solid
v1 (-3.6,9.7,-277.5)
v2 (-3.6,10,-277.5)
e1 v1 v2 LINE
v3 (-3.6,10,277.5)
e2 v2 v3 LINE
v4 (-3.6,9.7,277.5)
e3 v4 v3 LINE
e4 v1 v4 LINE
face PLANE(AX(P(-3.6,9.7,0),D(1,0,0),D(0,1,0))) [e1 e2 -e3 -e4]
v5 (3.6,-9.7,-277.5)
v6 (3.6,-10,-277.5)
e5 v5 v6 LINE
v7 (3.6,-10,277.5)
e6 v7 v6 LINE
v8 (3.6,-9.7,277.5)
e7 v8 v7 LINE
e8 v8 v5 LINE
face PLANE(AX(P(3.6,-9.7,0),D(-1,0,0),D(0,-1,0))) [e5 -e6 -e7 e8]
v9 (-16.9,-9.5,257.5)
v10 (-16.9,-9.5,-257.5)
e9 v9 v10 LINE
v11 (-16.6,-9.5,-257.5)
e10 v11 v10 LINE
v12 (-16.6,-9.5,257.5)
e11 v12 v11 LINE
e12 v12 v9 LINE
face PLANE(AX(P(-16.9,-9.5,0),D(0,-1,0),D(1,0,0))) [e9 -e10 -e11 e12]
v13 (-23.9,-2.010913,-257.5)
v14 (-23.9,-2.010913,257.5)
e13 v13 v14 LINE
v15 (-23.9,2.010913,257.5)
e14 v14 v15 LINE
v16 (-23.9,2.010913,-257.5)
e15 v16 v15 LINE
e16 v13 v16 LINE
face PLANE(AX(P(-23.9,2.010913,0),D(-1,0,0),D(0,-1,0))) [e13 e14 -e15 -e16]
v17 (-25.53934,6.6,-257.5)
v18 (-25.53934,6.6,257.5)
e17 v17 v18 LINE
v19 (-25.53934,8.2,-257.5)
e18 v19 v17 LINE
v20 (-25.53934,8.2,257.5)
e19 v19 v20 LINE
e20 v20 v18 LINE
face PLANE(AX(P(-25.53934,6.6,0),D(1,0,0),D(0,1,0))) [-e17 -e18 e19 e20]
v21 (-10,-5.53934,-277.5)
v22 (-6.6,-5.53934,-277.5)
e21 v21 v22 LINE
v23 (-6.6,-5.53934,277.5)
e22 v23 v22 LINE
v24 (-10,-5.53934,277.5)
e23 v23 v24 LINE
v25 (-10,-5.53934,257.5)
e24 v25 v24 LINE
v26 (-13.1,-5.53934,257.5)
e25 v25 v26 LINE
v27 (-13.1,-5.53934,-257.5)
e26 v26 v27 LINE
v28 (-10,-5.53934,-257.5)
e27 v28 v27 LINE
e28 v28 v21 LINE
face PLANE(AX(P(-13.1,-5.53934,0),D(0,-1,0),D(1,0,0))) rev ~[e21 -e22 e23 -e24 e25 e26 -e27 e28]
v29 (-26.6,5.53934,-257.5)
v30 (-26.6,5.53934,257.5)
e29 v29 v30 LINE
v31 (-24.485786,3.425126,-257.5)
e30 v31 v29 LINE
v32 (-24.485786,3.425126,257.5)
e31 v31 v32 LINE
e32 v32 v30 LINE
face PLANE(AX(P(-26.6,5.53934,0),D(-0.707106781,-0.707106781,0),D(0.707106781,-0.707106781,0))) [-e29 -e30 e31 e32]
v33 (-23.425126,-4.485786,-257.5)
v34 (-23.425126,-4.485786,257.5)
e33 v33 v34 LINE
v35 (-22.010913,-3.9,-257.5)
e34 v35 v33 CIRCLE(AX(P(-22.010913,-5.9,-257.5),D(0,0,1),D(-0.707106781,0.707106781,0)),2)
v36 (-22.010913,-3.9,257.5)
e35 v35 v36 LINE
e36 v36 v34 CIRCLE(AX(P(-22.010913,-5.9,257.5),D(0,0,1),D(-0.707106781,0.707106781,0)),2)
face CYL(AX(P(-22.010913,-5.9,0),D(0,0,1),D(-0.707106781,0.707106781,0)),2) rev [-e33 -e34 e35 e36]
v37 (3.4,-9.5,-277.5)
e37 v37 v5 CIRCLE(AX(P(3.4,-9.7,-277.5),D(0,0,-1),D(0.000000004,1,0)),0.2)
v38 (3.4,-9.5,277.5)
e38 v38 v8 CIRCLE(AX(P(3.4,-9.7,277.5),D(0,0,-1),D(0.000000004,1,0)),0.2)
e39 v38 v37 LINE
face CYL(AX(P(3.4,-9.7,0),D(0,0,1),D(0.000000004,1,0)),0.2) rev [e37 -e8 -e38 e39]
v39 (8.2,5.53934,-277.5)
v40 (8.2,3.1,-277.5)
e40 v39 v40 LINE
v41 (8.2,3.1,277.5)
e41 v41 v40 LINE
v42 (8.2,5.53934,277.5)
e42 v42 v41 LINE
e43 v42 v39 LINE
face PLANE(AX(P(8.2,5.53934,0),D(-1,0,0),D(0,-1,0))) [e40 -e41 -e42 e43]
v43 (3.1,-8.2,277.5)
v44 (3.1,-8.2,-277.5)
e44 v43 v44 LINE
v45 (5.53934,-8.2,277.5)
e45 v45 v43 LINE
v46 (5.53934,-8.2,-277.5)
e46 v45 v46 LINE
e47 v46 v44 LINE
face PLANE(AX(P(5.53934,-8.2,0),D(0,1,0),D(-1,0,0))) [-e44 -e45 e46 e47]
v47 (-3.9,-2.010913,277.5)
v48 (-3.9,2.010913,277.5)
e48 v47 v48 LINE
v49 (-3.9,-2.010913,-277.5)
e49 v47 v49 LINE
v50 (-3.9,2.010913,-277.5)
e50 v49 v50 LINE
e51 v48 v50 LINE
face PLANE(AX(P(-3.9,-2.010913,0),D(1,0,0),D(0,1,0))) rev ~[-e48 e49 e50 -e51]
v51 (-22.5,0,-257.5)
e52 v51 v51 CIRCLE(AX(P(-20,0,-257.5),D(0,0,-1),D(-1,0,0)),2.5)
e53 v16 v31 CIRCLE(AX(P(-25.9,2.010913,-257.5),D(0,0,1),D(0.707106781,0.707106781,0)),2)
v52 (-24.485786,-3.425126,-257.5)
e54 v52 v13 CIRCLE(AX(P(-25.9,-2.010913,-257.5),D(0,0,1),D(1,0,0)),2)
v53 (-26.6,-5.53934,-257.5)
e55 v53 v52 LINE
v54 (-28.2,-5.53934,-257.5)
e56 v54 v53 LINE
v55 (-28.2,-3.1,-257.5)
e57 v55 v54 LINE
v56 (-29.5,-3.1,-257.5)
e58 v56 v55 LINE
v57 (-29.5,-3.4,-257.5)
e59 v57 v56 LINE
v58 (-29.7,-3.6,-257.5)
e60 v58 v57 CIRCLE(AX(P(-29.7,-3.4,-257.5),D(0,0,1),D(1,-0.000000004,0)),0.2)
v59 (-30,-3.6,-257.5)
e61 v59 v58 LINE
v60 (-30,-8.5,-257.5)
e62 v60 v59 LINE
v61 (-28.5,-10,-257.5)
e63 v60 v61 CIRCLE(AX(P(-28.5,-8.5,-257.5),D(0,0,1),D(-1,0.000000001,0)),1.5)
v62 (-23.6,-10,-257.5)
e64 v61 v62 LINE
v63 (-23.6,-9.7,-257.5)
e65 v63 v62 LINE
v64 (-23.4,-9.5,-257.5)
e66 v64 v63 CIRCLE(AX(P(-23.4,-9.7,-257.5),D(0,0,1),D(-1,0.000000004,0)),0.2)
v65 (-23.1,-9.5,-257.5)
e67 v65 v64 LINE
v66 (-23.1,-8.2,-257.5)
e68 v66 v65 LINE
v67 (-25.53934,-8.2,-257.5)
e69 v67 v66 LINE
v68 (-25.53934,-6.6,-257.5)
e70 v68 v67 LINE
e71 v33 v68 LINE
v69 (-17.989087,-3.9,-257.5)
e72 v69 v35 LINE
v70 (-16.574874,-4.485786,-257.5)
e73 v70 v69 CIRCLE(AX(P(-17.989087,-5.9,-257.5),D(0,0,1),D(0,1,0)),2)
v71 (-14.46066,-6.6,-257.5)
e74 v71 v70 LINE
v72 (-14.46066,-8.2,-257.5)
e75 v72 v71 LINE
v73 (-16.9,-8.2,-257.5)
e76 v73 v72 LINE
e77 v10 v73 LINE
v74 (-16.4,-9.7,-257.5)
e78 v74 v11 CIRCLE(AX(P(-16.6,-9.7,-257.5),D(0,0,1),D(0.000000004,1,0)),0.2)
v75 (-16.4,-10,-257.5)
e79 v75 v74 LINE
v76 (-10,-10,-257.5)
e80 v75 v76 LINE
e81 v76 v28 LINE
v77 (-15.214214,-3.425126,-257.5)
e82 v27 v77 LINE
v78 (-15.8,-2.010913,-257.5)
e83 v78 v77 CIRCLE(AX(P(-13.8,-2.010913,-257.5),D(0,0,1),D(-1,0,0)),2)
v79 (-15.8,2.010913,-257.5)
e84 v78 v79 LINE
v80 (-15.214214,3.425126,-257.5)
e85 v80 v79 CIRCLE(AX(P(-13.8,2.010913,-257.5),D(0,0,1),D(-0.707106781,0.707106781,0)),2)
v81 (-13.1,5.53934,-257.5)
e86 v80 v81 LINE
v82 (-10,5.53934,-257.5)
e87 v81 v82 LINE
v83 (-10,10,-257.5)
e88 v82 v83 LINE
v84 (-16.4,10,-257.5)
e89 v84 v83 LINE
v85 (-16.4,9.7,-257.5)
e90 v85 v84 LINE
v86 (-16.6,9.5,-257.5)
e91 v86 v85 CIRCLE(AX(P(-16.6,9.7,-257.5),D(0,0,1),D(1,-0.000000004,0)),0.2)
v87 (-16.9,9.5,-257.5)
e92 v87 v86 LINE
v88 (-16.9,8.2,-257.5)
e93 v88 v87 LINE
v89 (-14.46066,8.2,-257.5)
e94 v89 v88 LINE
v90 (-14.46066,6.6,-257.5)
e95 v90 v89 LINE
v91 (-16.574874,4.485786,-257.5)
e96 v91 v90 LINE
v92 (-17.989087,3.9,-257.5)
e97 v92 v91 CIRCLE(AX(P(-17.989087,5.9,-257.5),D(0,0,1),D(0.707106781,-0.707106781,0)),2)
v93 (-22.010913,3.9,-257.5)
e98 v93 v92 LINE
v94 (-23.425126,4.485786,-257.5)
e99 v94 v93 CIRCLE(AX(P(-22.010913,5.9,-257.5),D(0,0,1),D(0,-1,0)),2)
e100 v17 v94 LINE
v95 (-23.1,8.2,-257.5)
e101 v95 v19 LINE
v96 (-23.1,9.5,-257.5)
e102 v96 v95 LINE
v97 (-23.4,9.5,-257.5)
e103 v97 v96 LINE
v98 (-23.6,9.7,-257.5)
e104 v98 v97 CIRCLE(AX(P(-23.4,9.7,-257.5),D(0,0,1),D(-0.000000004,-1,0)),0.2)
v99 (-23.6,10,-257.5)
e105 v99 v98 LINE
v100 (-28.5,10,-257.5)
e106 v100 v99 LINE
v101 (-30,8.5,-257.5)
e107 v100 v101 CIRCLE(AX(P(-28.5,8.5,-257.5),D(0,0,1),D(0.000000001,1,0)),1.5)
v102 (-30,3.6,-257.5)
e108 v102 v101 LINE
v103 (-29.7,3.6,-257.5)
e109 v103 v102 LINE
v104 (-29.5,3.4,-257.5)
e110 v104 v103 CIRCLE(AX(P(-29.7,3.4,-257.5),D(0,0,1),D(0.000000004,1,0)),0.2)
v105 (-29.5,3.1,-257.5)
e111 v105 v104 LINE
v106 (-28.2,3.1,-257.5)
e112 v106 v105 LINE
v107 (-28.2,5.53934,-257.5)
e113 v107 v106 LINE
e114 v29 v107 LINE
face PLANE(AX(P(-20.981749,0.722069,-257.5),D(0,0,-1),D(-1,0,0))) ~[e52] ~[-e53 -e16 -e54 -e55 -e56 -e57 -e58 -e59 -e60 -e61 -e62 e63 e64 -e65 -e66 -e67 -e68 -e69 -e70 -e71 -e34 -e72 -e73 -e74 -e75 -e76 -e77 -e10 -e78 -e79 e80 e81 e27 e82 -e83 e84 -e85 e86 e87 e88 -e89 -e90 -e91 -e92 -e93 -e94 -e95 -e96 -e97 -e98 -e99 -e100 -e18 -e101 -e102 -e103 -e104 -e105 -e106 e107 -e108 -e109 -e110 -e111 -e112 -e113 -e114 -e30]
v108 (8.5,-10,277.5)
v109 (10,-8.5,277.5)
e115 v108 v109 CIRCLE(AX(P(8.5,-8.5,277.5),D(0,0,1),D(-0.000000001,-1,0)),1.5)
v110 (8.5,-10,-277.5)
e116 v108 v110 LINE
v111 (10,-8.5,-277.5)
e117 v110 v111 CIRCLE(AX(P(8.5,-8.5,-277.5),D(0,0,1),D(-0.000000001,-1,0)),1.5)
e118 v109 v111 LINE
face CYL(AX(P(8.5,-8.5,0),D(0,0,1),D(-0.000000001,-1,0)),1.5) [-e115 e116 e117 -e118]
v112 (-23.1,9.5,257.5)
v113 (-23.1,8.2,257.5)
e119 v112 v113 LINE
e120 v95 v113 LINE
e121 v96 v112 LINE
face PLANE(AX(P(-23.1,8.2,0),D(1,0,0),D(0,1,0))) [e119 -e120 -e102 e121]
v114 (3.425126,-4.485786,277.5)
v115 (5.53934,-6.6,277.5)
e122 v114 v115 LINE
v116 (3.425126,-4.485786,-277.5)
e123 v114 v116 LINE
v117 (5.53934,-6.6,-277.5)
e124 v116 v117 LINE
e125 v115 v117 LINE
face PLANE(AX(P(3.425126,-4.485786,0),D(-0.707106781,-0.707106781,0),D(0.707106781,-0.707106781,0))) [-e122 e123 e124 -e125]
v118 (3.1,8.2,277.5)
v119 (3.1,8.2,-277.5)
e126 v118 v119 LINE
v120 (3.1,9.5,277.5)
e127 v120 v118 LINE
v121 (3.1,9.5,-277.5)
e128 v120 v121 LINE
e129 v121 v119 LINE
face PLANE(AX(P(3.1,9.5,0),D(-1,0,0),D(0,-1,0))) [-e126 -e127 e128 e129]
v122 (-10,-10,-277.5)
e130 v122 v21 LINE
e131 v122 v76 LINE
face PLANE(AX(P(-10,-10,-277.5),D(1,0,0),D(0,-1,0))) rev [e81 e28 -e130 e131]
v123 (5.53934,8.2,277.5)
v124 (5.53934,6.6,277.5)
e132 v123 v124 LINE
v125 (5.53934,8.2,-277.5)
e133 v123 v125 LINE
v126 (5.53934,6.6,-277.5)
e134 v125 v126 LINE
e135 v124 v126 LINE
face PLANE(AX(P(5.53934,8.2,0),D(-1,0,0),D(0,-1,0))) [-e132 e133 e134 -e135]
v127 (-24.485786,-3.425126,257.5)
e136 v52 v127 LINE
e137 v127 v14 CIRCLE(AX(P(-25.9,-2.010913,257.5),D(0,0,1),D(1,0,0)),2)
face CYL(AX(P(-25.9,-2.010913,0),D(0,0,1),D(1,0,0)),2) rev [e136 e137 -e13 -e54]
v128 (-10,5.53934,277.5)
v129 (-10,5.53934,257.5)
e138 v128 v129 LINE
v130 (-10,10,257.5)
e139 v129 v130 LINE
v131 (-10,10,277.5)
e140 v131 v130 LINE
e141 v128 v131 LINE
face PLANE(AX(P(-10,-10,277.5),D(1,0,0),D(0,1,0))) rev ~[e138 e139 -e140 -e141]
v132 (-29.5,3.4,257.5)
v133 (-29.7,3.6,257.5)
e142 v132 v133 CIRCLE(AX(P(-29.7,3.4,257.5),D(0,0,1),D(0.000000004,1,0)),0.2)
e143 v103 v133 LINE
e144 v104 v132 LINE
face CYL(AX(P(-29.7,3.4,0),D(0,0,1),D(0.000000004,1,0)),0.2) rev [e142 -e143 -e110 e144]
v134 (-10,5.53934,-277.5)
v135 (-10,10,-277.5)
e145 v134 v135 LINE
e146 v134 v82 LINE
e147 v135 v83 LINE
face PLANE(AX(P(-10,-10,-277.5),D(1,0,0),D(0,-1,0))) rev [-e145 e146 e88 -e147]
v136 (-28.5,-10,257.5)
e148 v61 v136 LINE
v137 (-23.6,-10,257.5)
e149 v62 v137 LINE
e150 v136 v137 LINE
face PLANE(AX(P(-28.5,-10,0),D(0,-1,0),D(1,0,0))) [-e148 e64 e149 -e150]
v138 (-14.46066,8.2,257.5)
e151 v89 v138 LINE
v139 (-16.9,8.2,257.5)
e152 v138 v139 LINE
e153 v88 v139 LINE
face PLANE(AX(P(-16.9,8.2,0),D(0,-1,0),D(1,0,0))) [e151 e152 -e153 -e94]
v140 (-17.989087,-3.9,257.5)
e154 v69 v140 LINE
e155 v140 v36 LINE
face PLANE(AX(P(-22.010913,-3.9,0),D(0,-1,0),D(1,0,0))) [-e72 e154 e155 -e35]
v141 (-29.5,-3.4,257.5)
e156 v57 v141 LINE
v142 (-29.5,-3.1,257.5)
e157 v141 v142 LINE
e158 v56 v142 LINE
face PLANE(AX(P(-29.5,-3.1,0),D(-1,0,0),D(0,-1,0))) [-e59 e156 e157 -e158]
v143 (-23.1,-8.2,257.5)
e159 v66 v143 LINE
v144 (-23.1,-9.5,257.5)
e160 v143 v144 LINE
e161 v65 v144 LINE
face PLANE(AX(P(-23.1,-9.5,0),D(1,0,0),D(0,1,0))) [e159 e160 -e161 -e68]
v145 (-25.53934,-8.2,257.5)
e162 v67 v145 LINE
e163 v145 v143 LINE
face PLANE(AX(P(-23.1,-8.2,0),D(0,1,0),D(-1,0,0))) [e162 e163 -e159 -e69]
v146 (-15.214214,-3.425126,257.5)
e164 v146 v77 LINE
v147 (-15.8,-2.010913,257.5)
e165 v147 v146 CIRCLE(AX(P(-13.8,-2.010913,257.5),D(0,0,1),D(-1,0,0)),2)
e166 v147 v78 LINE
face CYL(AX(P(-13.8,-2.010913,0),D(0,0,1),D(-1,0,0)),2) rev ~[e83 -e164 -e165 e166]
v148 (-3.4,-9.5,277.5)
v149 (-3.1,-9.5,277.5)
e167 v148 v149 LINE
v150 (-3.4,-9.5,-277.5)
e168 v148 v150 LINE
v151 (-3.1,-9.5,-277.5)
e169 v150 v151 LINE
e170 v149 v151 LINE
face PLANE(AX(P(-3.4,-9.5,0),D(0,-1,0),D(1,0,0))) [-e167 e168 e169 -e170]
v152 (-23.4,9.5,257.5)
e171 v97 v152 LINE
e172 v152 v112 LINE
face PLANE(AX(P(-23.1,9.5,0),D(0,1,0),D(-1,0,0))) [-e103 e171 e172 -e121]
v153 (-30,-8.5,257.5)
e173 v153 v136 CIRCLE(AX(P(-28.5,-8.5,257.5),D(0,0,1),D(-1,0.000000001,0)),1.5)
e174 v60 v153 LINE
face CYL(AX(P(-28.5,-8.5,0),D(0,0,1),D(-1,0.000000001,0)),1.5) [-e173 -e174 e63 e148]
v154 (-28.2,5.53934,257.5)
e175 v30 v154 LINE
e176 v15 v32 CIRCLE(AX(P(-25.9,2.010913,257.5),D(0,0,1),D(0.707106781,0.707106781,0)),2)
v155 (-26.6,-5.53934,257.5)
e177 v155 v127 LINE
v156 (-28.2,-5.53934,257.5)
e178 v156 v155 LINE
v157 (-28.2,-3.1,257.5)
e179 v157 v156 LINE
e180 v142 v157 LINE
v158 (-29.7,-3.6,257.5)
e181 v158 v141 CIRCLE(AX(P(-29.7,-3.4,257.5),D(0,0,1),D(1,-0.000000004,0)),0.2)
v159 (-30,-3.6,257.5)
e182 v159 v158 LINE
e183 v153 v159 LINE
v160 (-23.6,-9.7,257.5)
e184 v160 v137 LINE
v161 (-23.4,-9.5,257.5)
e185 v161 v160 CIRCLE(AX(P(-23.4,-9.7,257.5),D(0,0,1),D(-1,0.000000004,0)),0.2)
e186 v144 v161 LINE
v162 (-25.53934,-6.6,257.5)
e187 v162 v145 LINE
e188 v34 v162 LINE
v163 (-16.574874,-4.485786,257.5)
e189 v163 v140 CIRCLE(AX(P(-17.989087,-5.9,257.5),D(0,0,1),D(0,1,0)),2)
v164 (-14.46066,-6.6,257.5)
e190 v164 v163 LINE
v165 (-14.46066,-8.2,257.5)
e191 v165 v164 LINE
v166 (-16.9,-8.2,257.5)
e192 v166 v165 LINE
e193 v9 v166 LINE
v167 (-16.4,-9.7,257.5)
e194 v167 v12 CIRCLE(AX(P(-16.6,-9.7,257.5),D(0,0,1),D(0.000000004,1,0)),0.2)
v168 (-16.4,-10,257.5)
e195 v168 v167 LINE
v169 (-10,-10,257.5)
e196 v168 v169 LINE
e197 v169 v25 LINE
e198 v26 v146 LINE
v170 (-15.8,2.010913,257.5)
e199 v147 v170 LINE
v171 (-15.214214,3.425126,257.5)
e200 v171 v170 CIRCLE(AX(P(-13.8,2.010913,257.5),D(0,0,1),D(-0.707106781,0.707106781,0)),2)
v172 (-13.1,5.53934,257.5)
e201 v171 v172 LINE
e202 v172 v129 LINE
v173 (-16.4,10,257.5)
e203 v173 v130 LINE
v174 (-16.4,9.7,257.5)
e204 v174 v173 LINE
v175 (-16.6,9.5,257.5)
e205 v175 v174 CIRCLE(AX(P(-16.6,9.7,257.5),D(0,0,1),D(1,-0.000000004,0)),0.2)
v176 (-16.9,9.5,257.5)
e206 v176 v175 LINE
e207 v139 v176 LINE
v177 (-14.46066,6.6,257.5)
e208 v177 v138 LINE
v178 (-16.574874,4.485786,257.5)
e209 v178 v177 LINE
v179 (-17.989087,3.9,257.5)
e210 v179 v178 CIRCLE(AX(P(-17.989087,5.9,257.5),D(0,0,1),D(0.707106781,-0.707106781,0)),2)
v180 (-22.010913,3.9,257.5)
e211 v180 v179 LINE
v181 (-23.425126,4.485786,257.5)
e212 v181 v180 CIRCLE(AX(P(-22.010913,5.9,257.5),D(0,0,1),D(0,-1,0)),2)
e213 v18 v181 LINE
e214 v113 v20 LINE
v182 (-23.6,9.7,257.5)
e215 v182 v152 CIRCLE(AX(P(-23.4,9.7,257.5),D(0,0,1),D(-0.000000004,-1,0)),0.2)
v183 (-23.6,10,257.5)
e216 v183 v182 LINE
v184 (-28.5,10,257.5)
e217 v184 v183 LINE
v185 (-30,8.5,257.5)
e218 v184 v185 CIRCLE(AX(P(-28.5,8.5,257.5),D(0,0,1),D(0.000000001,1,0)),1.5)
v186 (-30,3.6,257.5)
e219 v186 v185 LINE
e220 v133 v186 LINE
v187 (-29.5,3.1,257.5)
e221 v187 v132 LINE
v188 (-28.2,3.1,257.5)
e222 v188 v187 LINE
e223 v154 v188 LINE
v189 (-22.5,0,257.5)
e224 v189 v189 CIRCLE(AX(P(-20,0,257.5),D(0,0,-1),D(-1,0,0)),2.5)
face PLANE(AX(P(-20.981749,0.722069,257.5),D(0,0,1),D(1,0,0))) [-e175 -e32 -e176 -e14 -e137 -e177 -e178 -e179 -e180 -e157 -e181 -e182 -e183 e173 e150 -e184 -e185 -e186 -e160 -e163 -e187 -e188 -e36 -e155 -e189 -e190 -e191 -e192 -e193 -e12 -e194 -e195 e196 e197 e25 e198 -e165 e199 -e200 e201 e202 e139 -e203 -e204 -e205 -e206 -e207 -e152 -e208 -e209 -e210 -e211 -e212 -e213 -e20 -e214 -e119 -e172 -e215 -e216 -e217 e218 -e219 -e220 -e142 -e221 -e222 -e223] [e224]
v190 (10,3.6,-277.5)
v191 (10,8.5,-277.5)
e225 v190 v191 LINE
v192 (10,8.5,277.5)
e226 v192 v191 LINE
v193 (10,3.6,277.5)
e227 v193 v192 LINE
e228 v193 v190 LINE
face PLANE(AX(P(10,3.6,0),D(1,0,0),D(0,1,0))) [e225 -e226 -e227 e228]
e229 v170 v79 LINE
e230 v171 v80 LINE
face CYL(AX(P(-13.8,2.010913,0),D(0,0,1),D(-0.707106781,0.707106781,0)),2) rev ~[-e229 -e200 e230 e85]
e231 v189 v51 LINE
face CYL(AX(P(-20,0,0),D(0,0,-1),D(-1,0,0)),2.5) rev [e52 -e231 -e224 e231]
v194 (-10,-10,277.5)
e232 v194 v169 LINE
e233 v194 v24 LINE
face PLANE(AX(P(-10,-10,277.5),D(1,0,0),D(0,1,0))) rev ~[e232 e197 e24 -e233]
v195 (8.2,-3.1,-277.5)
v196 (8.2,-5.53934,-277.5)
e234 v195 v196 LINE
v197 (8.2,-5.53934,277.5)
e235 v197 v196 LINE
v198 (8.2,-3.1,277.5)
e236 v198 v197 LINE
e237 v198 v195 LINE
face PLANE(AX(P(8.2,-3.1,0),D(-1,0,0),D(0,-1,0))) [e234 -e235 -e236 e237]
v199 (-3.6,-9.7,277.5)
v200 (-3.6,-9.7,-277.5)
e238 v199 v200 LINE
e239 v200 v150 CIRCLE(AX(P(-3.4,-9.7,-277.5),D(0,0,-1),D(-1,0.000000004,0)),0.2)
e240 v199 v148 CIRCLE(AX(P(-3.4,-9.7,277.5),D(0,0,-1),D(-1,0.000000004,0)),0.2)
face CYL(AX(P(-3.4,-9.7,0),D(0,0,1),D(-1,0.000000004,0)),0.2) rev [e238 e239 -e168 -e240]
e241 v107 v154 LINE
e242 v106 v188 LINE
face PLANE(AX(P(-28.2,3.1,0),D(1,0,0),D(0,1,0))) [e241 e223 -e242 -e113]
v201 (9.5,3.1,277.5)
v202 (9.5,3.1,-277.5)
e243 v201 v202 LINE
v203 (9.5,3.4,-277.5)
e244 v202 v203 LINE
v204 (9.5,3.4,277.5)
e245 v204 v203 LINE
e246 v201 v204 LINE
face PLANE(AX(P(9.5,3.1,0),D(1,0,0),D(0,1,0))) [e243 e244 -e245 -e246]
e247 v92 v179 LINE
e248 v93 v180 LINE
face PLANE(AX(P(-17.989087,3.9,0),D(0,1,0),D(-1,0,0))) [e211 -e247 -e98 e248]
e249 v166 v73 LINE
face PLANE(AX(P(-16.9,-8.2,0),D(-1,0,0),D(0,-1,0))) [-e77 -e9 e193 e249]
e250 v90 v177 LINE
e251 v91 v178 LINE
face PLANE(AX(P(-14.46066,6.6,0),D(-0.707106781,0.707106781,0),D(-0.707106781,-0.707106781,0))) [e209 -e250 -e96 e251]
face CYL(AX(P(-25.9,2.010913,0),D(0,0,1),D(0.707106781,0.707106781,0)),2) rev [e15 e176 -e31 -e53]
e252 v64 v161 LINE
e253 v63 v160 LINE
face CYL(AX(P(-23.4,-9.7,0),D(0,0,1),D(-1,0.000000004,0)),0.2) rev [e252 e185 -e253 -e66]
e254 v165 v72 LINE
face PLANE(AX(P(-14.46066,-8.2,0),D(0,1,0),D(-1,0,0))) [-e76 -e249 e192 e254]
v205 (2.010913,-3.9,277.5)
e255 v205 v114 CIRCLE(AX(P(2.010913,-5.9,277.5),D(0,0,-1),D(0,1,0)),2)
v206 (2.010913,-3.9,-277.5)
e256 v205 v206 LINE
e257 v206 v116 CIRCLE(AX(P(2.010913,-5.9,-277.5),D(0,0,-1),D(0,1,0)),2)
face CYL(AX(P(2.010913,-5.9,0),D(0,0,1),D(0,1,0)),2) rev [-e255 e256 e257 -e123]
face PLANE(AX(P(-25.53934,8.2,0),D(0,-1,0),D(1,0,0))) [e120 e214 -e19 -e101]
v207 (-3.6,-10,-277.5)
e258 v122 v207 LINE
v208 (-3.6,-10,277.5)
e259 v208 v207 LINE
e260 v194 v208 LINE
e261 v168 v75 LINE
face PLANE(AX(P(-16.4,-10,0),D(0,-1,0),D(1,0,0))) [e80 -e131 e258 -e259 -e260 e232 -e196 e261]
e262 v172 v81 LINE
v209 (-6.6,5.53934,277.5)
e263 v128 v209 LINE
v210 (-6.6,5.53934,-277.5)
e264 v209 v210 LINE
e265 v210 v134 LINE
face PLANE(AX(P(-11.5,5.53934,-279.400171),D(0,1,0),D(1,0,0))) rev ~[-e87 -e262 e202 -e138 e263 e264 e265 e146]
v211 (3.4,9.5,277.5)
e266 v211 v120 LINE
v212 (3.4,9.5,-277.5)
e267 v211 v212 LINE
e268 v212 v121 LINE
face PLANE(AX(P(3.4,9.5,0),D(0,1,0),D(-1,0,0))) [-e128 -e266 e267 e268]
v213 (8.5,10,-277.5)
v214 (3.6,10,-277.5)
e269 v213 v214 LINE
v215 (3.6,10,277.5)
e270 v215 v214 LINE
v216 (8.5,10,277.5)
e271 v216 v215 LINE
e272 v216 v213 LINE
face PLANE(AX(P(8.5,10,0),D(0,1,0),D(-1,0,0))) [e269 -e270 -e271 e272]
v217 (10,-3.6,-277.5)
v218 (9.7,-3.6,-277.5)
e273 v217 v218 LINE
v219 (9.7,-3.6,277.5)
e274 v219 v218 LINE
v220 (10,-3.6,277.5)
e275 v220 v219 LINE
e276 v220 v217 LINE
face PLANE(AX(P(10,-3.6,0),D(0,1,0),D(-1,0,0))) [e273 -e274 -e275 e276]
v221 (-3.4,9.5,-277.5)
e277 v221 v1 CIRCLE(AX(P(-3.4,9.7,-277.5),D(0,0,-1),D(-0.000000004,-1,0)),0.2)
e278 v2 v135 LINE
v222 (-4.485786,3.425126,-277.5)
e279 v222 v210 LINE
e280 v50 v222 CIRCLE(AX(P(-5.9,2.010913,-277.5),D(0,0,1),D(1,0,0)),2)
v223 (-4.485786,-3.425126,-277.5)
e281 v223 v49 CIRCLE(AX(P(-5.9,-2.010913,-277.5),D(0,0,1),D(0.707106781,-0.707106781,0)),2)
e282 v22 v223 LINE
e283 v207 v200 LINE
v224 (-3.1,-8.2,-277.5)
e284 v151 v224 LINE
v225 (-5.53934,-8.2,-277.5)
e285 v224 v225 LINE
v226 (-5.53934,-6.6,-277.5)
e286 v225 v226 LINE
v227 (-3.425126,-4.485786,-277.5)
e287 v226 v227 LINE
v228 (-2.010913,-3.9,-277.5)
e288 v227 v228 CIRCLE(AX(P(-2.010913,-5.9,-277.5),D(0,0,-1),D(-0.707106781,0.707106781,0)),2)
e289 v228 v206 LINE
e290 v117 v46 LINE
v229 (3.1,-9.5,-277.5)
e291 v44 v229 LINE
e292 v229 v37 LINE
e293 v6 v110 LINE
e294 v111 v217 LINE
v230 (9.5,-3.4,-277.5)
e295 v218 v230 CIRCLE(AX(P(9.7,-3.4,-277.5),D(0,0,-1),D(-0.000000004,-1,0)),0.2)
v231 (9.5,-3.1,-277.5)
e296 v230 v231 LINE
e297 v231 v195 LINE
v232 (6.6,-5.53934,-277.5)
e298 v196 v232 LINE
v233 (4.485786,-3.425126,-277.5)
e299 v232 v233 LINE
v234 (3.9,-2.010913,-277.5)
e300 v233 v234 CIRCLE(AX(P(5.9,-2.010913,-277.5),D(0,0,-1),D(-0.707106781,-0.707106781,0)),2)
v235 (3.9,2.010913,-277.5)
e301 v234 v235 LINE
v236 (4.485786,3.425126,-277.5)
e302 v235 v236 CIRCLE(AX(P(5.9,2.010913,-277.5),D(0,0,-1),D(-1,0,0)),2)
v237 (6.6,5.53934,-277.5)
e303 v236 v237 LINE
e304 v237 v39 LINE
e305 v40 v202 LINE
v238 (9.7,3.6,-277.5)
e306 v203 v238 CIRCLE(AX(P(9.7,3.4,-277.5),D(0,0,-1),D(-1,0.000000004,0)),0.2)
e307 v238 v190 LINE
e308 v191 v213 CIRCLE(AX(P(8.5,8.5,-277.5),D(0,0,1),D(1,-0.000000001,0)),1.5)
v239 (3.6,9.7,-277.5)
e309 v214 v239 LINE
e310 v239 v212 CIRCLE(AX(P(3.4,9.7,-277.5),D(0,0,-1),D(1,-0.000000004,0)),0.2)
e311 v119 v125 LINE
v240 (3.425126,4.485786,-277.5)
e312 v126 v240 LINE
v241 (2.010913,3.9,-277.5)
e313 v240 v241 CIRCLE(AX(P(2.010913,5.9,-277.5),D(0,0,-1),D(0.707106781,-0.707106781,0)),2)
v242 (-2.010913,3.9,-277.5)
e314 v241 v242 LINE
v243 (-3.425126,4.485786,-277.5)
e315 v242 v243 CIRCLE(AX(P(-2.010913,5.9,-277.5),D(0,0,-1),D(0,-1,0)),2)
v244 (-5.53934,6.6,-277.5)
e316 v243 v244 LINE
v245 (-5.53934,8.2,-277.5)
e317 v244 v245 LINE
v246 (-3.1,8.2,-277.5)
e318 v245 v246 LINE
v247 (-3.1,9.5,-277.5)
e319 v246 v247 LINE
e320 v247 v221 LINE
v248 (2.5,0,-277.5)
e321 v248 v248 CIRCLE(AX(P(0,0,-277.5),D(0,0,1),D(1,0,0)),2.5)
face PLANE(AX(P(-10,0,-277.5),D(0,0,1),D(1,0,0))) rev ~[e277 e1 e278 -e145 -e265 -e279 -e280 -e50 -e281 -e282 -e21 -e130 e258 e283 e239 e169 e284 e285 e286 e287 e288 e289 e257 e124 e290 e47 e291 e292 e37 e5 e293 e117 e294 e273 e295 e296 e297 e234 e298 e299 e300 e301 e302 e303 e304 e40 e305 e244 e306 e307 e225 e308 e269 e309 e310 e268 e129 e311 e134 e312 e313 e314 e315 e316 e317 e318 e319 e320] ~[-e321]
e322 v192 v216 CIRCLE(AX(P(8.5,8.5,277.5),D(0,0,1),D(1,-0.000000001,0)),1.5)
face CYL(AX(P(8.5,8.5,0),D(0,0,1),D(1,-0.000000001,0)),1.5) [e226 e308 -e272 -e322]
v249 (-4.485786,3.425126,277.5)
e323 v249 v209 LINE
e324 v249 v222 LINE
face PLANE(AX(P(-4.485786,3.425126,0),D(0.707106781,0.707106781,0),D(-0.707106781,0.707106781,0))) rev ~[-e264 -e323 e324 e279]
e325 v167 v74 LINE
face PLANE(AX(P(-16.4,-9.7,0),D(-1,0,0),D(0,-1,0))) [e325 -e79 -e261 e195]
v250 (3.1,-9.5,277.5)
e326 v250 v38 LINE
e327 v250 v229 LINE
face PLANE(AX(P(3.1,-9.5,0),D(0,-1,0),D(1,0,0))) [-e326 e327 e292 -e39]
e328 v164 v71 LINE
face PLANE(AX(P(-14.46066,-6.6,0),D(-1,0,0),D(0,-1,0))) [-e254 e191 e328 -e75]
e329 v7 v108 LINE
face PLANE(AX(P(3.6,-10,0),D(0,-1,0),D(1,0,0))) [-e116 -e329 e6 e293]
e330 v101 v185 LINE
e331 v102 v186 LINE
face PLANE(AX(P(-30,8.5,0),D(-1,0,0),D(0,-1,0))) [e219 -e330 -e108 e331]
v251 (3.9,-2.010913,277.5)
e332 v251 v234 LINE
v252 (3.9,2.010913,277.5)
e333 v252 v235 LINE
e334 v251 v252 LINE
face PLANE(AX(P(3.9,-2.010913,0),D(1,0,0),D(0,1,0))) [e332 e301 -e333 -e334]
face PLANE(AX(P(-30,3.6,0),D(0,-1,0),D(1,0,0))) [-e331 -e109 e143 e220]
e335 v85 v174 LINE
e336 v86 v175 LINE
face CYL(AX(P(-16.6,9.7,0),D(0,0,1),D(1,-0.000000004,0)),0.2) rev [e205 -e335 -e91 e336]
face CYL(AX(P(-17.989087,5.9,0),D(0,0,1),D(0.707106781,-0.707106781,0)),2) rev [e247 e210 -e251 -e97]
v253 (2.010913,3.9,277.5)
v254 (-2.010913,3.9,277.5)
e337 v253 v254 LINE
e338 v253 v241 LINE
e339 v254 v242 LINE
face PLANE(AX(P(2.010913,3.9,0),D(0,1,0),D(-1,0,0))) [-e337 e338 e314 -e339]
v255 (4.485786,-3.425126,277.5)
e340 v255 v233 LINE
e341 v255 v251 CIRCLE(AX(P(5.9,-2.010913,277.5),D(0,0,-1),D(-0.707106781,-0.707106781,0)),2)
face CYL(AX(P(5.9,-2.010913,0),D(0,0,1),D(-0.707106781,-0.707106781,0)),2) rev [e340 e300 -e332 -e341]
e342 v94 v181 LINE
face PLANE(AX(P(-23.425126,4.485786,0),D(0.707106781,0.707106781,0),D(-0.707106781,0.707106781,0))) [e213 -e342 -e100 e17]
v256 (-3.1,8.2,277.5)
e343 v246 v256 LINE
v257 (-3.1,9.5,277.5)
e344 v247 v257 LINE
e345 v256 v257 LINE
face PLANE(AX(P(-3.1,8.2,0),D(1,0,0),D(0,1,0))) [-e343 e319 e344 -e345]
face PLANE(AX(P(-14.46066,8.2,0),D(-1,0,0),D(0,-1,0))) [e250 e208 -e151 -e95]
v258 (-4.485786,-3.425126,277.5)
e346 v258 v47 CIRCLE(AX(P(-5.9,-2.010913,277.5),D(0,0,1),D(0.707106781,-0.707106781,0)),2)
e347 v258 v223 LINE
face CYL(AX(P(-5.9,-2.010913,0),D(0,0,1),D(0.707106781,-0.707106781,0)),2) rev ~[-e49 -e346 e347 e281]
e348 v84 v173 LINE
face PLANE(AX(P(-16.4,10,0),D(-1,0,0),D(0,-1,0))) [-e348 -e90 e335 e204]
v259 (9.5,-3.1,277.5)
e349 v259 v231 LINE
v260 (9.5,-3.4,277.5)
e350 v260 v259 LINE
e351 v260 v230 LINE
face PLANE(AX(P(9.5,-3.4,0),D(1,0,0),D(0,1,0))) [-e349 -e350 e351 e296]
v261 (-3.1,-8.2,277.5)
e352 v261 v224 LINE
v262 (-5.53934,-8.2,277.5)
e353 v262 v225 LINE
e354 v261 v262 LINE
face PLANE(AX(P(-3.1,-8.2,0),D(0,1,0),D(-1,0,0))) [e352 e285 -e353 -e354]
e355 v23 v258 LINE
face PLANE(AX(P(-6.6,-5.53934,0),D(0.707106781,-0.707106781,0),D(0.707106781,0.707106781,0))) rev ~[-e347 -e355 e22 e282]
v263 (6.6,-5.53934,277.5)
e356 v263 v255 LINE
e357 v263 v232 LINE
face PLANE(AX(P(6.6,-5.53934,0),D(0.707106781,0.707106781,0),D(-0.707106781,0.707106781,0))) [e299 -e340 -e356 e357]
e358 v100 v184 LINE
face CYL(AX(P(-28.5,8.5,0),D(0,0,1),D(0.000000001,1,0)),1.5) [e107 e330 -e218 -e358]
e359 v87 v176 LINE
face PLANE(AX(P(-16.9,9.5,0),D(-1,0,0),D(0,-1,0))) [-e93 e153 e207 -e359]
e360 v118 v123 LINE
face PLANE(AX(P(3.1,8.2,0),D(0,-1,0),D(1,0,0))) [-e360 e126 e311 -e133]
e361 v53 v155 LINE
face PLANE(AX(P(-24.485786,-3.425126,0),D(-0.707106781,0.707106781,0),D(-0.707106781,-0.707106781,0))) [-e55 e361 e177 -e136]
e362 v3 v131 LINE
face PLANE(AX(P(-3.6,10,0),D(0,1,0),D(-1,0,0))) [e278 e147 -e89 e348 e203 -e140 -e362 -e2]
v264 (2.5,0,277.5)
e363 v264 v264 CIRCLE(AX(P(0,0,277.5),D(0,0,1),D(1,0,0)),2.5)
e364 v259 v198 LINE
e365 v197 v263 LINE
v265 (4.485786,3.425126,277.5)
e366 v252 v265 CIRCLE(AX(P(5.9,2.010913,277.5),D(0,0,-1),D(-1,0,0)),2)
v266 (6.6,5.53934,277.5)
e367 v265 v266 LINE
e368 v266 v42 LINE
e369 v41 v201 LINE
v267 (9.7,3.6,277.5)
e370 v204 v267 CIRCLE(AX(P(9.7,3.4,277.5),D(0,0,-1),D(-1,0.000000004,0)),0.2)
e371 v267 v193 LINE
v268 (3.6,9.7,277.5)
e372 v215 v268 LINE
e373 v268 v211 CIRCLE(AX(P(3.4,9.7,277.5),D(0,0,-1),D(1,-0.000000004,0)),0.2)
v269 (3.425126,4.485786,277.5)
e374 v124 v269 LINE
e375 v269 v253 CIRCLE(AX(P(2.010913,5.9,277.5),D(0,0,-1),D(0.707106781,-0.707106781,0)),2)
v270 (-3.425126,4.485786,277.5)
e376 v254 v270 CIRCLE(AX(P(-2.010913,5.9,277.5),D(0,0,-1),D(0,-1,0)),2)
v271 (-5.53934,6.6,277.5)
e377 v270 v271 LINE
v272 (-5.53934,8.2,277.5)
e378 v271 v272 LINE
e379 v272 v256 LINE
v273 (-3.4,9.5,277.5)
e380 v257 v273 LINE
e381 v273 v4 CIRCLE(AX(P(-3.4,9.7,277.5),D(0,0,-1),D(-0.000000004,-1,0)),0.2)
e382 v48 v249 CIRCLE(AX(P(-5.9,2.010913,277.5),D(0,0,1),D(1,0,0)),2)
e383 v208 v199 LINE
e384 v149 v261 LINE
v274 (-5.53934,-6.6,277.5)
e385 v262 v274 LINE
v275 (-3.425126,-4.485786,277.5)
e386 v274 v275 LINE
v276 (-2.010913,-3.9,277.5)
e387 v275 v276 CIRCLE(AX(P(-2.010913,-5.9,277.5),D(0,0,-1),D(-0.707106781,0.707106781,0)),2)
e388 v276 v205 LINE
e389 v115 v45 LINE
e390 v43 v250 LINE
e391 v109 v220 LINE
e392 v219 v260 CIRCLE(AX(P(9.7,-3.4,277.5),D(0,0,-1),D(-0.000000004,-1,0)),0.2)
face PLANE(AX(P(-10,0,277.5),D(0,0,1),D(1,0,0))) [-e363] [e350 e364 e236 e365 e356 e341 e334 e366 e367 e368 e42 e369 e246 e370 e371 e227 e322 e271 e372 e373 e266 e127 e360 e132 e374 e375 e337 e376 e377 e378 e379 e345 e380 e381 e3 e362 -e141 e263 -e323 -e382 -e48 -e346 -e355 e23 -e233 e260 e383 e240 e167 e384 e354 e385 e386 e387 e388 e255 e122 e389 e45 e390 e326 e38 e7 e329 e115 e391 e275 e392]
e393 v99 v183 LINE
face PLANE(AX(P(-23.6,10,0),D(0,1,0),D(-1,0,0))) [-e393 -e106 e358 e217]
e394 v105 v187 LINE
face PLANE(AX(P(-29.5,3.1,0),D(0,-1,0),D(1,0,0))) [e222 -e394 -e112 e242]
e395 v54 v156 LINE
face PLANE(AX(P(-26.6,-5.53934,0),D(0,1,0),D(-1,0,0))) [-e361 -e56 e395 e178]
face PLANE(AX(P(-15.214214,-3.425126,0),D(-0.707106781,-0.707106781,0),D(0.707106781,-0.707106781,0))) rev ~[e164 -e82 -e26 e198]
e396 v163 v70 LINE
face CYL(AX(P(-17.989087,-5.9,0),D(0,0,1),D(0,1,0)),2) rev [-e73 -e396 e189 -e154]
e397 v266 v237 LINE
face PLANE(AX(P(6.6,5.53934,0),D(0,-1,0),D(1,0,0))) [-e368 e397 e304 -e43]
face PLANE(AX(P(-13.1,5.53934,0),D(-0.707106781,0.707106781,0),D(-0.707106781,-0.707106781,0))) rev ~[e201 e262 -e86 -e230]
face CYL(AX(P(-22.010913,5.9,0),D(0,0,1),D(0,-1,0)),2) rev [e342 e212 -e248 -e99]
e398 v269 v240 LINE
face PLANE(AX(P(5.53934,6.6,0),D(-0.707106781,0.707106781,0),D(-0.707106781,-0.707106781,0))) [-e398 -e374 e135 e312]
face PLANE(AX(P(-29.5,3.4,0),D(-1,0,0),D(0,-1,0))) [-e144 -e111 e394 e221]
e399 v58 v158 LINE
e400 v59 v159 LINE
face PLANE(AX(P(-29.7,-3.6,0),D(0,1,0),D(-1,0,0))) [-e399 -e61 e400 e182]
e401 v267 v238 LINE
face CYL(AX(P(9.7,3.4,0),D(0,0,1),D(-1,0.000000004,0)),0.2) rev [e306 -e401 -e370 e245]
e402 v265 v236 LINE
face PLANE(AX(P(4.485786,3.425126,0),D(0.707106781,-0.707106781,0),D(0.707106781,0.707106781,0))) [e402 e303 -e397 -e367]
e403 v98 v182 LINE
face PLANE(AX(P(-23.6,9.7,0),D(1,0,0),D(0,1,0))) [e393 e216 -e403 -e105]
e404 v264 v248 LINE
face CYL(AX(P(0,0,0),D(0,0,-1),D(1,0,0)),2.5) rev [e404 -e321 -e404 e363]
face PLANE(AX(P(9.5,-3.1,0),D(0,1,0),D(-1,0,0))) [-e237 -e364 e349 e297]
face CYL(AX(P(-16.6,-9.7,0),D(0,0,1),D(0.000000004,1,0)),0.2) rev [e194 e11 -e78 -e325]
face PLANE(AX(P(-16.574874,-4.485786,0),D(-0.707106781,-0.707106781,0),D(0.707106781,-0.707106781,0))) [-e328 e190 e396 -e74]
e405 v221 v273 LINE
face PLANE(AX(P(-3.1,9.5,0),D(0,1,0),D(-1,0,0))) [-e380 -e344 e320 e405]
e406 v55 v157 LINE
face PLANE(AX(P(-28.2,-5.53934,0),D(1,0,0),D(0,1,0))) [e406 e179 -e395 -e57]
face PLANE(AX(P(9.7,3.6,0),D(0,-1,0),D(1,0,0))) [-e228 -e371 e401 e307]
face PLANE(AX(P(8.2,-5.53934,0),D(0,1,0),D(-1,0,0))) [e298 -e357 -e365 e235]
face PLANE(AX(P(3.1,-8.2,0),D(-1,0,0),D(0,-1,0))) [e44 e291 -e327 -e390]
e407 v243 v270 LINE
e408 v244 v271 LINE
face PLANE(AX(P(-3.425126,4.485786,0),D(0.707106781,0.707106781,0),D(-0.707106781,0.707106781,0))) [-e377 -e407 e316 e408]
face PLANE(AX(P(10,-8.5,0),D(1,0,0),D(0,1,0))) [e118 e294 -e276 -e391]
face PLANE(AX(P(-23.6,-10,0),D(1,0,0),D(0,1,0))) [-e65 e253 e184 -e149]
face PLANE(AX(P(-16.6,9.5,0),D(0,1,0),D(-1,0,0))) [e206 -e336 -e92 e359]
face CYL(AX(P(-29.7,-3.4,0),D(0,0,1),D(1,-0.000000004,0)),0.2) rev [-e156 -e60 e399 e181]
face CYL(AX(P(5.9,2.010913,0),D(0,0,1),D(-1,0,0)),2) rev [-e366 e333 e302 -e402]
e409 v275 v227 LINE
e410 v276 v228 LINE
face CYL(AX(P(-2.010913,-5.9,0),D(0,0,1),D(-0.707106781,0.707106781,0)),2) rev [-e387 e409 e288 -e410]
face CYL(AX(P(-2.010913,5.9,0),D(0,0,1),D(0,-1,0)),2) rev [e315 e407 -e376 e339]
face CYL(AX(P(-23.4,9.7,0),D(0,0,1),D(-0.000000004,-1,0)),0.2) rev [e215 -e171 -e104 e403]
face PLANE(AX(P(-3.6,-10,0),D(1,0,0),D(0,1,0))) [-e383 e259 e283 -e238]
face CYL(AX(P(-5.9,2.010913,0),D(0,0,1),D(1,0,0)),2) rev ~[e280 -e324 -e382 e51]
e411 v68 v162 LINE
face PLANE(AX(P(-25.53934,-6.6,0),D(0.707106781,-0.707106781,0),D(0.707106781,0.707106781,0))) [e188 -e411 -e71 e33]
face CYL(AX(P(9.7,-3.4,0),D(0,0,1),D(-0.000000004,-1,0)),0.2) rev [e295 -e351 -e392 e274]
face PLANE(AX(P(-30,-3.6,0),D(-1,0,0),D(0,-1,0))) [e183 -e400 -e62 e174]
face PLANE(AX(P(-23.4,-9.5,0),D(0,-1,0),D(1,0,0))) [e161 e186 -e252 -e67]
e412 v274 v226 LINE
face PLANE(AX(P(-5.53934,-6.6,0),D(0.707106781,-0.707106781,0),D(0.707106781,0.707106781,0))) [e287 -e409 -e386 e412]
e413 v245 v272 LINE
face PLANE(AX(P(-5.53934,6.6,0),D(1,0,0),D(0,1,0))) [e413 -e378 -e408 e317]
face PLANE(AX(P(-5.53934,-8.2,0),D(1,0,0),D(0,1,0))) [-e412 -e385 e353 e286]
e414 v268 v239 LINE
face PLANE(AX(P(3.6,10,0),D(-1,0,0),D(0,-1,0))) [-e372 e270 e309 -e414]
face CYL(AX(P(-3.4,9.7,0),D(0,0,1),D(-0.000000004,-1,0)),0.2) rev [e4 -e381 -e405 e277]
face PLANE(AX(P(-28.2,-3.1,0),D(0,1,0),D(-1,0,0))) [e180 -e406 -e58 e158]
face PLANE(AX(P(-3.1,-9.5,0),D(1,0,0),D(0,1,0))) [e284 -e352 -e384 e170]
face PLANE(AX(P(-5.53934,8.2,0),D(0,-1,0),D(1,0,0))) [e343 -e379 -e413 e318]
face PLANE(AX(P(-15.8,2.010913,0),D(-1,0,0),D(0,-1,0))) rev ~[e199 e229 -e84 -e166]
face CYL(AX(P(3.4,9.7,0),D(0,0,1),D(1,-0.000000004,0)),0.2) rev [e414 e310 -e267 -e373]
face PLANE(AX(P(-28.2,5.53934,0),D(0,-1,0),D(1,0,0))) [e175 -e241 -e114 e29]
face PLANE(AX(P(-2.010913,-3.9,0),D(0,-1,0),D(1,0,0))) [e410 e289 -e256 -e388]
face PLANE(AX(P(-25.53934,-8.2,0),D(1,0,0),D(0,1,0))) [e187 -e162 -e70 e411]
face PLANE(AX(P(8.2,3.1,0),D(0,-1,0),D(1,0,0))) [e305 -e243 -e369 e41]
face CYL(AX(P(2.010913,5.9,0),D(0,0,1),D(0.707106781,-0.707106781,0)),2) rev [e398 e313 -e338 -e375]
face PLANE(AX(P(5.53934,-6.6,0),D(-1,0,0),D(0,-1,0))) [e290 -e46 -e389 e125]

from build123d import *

# Parameters (mm, degrees)
SKETCH1_R               = 2.5
EXTRUDE1_DEPTH          = 277.5
CUT_EXTRUDE1_DEPTH      = 556.900170894
CUT_EXTRUDE1_DEPTH_BACK = 556.900170894
SKETCH2_W               = 3.3
SKETCH2_H               = 11.078679656
SKETCH3_W               = 21.963498752
SKETCH3_H               = 21.444138823
CUT_EXTRUDE2_DEPTH      = 20


with BuildPart() as part:
    # Sketch1 → Extrude1 (new, symmetric)
    with BuildSketch(Plane.XY):
        with BuildLine():
            Line((0, 3.9), (-2.010912703, 3.9))
            ThreePointArc((-2.010912703, 3.9), (-2.776279568, 4.052240935), (-3.425126266, 4.485786438))
            Line((-3.425126266, 4.485786438), (-5.539339828, 6.6))
            Line((-5.539339828, 6.6), (-5.539339828, 8.2))
            Line((-5.539339828, 8.2), (-3.1, 8.2))
            Line((-3.1, 8.2), (-3.1, 9.5))
            Line((-3.1, 9.5), (-3.4, 9.5))
            ThreePointArc((-3.4, 9.5), (-3.541421356, 9.558578644), (-3.6, 9.7))
            Line((-3.6, 9.7), (-3.6, 10))
            Line((-3.6, 10), (-8.5, 10))
            Line((-8.5, 10), (-11.5, 10))
            Line((-11.5, 10), (-16.4, 10))
            Line((-16.4, 10), (-16.4, 9.7))
            ThreePointArc((-16.4, 9.7), (-16.458578644, 9.558578644), (-16.6, 9.5))
            Line((-16.6, 9.5), (-16.9, 9.5))
            Line((-16.9, 9.5), (-16.9, 8.2))
            Line((-16.9, 8.2), (-14.460660172, 8.2))
            Line((-14.460660172, 8.2), (-14.460660172, 6.6))
            Line((-14.460660172, 6.6), (-16.574873734, 4.485786438))
            ThreePointArc((-16.574873734, 4.485786438), (-17.223720432, 4.052240935), (-17.989087297, 3.9))
            Line((-17.989087297, 3.9), (-20, 3.9))
            Line((-20, 3.9), (-22.010912703, 3.9))
            ThreePointArc((-22.010912703, 3.9), (-22.776279568, 4.052240935), (-23.425126266, 4.485786438))
            Line((-23.425126266, 4.485786438), (-25.539339828, 6.6))
            Line((-25.539339828, 6.6), (-25.539339828, 8.2))
            Line((-25.539339828, 8.2), (-23.1, 8.2))
            Line((-23.1, 8.2), (-23.1, 9.5))
            Line((-23.1, 9.5), (-23.4, 9.5))
            ThreePointArc((-23.4, 9.5), (-23.541421356, 9.558578644), (-23.6, 9.7))
            Line((-23.6, 9.7), (-23.6, 10))
            Line((-23.6, 10), (-28.5, 10))
            ThreePointArc((-28.5, 10), (-29.560660172, 9.560660172), (-30, 8.5))
            Line((-30, 8.5), (-30, 3.6))
            Line((-30, 3.6), (-29.7, 3.6))
            ThreePointArc((-29.7, 3.6), (-29.558578644, 3.541421356), (-29.5, 3.4))
            Line((-29.5, 3.4), (-29.5, 3.1))
            Line((-29.5, 3.1), (-28.2, 3.1))
            Line((-28.2, 3.1), (-28.2, 5.539339828))
            Line((-28.2, 5.539339828), (-26.6, 5.539339828))
            Line((-26.6, 5.539339828), (-24.485786438, 3.425126266))
            ThreePointArc((-24.485786438, 3.425126266), (-24.052240935, 2.776279568), (-23.9, 2.010912703))
            Line((-23.9, 2.010912703), (-23.9, 0))
            Line((-23.9, 0), (-23.9, -2.010912703))
            ThreePointArc((-23.9, -2.010912703), (-24.052240935, -2.776279568), (-24.485786438, -3.425126266))
            Line((-24.485786438, -3.425126266), (-26.6, -5.539339828))
            Line((-26.6, -5.539339828), (-28.2, -5.539339828))
            Line((-28.2, -5.539339828), (-28.2, -3.1))
            Line((-28.2, -3.1), (-29.5, -3.1))
            Line((-29.5, -3.1), (-29.5, -3.4))
            ThreePointArc((-29.5, -3.4), (-29.558578644, -3.541421356), (-29.7, -3.6))
            Line((-29.7, -3.6), (-30, -3.6))
            Line((-30, -3.6), (-30, -8.5))
            ThreePointArc((-30, -8.5), (-29.560660172, -9.560660172), (-28.5, -10))
            Line((-28.5, -10), (-23.6, -10))
            Line((-23.6, -10), (-23.6, -9.7))
            ThreePointArc((-23.6, -9.7), (-23.541421356, -9.558578644), (-23.4, -9.5))
            Line((-23.4, -9.5), (-23.1, -9.5))
            Line((-23.1, -9.5), (-23.1, -8.2))
            Line((-23.1, -8.2), (-25.539339828, -8.2))
            Line((-25.539339828, -8.2), (-25.539339828, -6.6))
            Line((-25.539339828, -6.6), (-23.425126266, -4.485786438))
            ThreePointArc((-23.425126266, -4.485786438), (-22.776279568, -4.052240935), (-22.010912703, -3.9))
            Line((-22.010912703, -3.9), (-20, -3.9))
            Line((-20, -3.9), (-17.989087297, -3.9))
            ThreePointArc((-17.989087297, -3.9), (-17.223720432, -4.052240935), (-16.574873734, -4.485786438))
            Line((-16.574873734, -4.485786438), (-14.460660172, -6.6))
            Line((-14.460660172, -6.6), (-14.460660172, -8.2))
            Line((-14.460660172, -8.2), (-16.9, -8.2))
            Line((-16.9, -8.2), (-16.9, -9.5))
            Line((-16.9, -9.5), (-16.6, -9.5))
            ThreePointArc((-16.6, -9.5), (-16.458578644, -9.558578644), (-16.4, -9.7))
            Line((-16.4, -9.7), (-16.4, -10))
            Line((-16.4, -10), (-11.5, -10))
            Line((-11.5, -10), (-8.5, -10))
            Line((-8.5, -10), (-3.6, -10))
            Line((-3.6, -10), (-3.6, -9.7))
            ThreePointArc((-3.6, -9.7), (-3.541421356, -9.558578644), (-3.4, -9.5))
            Line((-3.4, -9.5), (-3.1, -9.5))
            Line((-3.1, -9.5), (-3.1, -8.2))
            Line((-3.1, -8.2), (-5.539339828, -8.2))
            Line((-5.539339828, -8.2), (-5.539339828, -6.6))
            Line((-5.539339828, -6.6), (-3.425126266, -4.485786438))
            ThreePointArc((-3.425126266, -4.485786438), (-2.776279568, -4.052240935), (-2.010912703, -3.9))
            Line((-2.010912703, -3.9), (0, -3.9))
            Line((0, -3.9), (2.010912703, -3.9))
            ThreePointArc((2.010912703, -3.9), (2.776279568, -4.052240935), (3.425126266, -4.485786438))
            Line((3.425126266, -4.485786438), (5.539339828, -6.6))
            Line((5.539339828, -6.6), (5.539339828, -8.2))
            Line((5.539339828, -8.2), (3.1, -8.2))
            Line((3.1, -8.2), (3.1, -9.5))
            Line((3.1, -9.5), (3.4, -9.5))
            ThreePointArc((3.4, -9.5), (3.541421356, -9.558578644), (3.6, -9.7))
            Line((3.6, -9.7), (3.6, -10))
            Line((3.6, -10), (8.5, -10))
            ThreePointArc((8.5, -10), (9.560660172, -9.560660172), (10, -8.5))
            Line((10, -8.5), (10, -3.6))
            Line((10, -3.6), (9.7, -3.6))
            ThreePointArc((9.7, -3.6), (9.558578644, -3.541421356), (9.5, -3.4))
            Line((9.5, -3.4), (9.5, -3.1))
            Line((9.5, -3.1), (8.2, -3.1))
            Line((8.2, -3.1), (8.2, -5.539339828))
            Line((8.2, -5.539339828), (6.6, -5.539339828))
            Line((6.6, -5.539339828), (4.485786438, -3.425126266))
            ThreePointArc((4.485786438, -3.425126266), (4.052240935, -2.776279568), (3.9, -2.010912703))
            Line((3.9, -2.010912703), (3.9, 0))
            Line((3.9, 0), (3.9, 2.010912703))
            ThreePointArc((3.9, 2.010912703), (4.052240935, 2.776279568), (4.485786438, 3.425126266))
            Line((4.485786438, 3.425126266), (6.6, 5.539339828))
            Line((6.6, 5.539339828), (8.2, 5.539339828))
            Line((8.2, 5.539339828), (8.2, 3.1))
            Line((8.2, 3.1), (9.5, 3.1))
            Line((9.5, 3.1), (9.5, 3.4))
            ThreePointArc((9.5, 3.4), (9.558578644, 3.541421356), (9.7, 3.6))
            Line((9.7, 3.6), (10, 3.6))
            Line((10, 3.6), (10, 8.5))
            ThreePointArc((10, 8.5), (9.560660172, 9.560660172), (8.5, 10))
            Line((8.5, 10), (3.6, 10))
            Line((3.6, 10), (3.6, 9.7))
            ThreePointArc((3.6, 9.7), (3.541421356, 9.558578644), (3.4, 9.5))
            Line((3.4, 9.5), (3.1, 9.5))
            Line((3.1, 9.5), (3.1, 8.2))
            Line((3.1, 8.2), (5.539339828, 8.2))
            Line((5.539339828, 8.2), (5.539339828, 6.6))
            Line((5.539339828, 6.6), (3.425126266, 4.485786438))
            ThreePointArc((3.425126266, 4.485786438), (2.776279568, 4.052240935), (2.010912703, 3.9))
            Line((2.010912703, 3.9), (0, 3.9))
        make_face()
        Circle(SKETCH1_R, mode=Mode.SUBTRACT)
        with Locations(Location((-20, 0, 0), (0, 0, 180))):
            Circle(SKETCH1_R, mode=Mode.SUBTRACT)
        with BuildLine():
            Line((-9.7, 3.6), (-10, 3.6))
            ThreePointArc((-10, 3.6), (-10.141421356, 3.541421356), (-10.2, 3.4))
            Line((-10.2, 3.4), (-10.2, 3.1))
            Line((-10.2, 3.1), (-11.5, 3.1))
            Line((-11.5, 3.1), (-11.5, 5.539339828))
            Line((-11.5, 5.539339828), (-13.1, 5.539339828))
            Line((-13.1, 5.539339828), (-15.214213562, 3.425126266))
            ThreePointArc((-15.214213562, 3.425126266), (-15.647759065, 2.776279568), (-15.8, 2.010912703))
            Line((-15.8, 2.010912703), (-15.8, 0))
            Line((-15.8, 0), (-15.8, -2.010912703))
            ThreePointArc((-15.8, -2.010912703), (-15.647759065, -2.776279568), (-15.214213562, -3.425126266))
            Line((-15.214213562, -3.425126266), (-13.1, -5.539339828))
            Line((-13.1, -5.539339828), (-11.5, -5.539339828))
            Line((-11.5, -5.539339828), (-11.5, -3.1))
            Line((-11.5, -3.1), (-10.2, -3.1))
            Line((-10.2, -3.1), (-10.2, -3.4))
            ThreePointArc((-10.2, -3.4), (-10.141421356, -3.541421356), (-10, -3.6))
            Line((-10, -3.6), (-9.7, -3.6))
            ThreePointArc((-9.7, -3.6), (-9.558578644, -3.541421356), (-9.5, -3.4))
            Line((-9.5, -3.4), (-9.5, -3.1))
            Line((-9.5, -3.1), (-8.2, -3.1))
            Line((-8.2, -3.1), (-8.2, -5.539339828))
            Line((-8.2, -5.539339828), (-6.6, -5.539339828))
            Line((-6.6, -5.539339828), (-4.485786438, -3.425126266))
            ThreePointArc((-4.485786438, -3.425126266), (-4.052240935, -2.776279568), (-3.9, -2.010912703))
            Line((-3.9, -2.010912703), (-3.9, 0))
            Line((-3.9, 0), (-3.9, 2.010912703))
            ThreePointArc((-3.9, 2.010912703), (-4.052240935, 2.776279568), (-4.485786438, 3.425126266))
            Line((-4.485786438, 3.425126266), (-6.6, 5.539339828))
            Line((-6.6, 5.539339828), (-8.2, 5.539339828))
            Line((-8.2, 5.539339828), (-8.2, 3.1))
            Line((-8.2, 3.1), (-9.5, 3.1))
            Line((-9.5, 3.1), (-9.5, 3.4))
            ThreePointArc((-9.5, 3.4), (-9.558578644, 3.541421356), (-9.7, 3.6))
        make_face(mode=Mode.SUBTRACT)
    extrude(amount=EXTRUDE1_DEPTH, both=True)

    # Sketch2 → Cut-Extrude1 (cut, two sides: drawn at the far end of the back side and taken through both)
    with BuildSketch(Plane.XY.offset(277.5).offset(-CUT_EXTRUDE1_DEPTH_BACK)):
        with Locations((-9.85, 0)):
            Rectangle(SKETCH2_W, SKETCH2_H)
    extrude(amount=CUT_EXTRUDE1_DEPTH + CUT_EXTRUDE1_DEPTH_BACK, mode=Mode.SUBTRACT)

    # Sketch3 → Cut-Extrude2 (cut)
    with BuildSketch(Plane.XY.offset(277.5)):
        with Locations((-20.981749376, 0.722069412)):
            Rectangle(SKETCH3_W, SKETCH3_H)
    cut_extrude2 = extrude(amount=-CUT_EXTRUDE2_DEPTH, mode=Mode.SUBTRACT)

    # Mirror1: Cut-Extrude2 across plane
    add(cut_extrude2.mirror(Plane.XY), mode=Mode.SUBTRACT)


solid = part.part
